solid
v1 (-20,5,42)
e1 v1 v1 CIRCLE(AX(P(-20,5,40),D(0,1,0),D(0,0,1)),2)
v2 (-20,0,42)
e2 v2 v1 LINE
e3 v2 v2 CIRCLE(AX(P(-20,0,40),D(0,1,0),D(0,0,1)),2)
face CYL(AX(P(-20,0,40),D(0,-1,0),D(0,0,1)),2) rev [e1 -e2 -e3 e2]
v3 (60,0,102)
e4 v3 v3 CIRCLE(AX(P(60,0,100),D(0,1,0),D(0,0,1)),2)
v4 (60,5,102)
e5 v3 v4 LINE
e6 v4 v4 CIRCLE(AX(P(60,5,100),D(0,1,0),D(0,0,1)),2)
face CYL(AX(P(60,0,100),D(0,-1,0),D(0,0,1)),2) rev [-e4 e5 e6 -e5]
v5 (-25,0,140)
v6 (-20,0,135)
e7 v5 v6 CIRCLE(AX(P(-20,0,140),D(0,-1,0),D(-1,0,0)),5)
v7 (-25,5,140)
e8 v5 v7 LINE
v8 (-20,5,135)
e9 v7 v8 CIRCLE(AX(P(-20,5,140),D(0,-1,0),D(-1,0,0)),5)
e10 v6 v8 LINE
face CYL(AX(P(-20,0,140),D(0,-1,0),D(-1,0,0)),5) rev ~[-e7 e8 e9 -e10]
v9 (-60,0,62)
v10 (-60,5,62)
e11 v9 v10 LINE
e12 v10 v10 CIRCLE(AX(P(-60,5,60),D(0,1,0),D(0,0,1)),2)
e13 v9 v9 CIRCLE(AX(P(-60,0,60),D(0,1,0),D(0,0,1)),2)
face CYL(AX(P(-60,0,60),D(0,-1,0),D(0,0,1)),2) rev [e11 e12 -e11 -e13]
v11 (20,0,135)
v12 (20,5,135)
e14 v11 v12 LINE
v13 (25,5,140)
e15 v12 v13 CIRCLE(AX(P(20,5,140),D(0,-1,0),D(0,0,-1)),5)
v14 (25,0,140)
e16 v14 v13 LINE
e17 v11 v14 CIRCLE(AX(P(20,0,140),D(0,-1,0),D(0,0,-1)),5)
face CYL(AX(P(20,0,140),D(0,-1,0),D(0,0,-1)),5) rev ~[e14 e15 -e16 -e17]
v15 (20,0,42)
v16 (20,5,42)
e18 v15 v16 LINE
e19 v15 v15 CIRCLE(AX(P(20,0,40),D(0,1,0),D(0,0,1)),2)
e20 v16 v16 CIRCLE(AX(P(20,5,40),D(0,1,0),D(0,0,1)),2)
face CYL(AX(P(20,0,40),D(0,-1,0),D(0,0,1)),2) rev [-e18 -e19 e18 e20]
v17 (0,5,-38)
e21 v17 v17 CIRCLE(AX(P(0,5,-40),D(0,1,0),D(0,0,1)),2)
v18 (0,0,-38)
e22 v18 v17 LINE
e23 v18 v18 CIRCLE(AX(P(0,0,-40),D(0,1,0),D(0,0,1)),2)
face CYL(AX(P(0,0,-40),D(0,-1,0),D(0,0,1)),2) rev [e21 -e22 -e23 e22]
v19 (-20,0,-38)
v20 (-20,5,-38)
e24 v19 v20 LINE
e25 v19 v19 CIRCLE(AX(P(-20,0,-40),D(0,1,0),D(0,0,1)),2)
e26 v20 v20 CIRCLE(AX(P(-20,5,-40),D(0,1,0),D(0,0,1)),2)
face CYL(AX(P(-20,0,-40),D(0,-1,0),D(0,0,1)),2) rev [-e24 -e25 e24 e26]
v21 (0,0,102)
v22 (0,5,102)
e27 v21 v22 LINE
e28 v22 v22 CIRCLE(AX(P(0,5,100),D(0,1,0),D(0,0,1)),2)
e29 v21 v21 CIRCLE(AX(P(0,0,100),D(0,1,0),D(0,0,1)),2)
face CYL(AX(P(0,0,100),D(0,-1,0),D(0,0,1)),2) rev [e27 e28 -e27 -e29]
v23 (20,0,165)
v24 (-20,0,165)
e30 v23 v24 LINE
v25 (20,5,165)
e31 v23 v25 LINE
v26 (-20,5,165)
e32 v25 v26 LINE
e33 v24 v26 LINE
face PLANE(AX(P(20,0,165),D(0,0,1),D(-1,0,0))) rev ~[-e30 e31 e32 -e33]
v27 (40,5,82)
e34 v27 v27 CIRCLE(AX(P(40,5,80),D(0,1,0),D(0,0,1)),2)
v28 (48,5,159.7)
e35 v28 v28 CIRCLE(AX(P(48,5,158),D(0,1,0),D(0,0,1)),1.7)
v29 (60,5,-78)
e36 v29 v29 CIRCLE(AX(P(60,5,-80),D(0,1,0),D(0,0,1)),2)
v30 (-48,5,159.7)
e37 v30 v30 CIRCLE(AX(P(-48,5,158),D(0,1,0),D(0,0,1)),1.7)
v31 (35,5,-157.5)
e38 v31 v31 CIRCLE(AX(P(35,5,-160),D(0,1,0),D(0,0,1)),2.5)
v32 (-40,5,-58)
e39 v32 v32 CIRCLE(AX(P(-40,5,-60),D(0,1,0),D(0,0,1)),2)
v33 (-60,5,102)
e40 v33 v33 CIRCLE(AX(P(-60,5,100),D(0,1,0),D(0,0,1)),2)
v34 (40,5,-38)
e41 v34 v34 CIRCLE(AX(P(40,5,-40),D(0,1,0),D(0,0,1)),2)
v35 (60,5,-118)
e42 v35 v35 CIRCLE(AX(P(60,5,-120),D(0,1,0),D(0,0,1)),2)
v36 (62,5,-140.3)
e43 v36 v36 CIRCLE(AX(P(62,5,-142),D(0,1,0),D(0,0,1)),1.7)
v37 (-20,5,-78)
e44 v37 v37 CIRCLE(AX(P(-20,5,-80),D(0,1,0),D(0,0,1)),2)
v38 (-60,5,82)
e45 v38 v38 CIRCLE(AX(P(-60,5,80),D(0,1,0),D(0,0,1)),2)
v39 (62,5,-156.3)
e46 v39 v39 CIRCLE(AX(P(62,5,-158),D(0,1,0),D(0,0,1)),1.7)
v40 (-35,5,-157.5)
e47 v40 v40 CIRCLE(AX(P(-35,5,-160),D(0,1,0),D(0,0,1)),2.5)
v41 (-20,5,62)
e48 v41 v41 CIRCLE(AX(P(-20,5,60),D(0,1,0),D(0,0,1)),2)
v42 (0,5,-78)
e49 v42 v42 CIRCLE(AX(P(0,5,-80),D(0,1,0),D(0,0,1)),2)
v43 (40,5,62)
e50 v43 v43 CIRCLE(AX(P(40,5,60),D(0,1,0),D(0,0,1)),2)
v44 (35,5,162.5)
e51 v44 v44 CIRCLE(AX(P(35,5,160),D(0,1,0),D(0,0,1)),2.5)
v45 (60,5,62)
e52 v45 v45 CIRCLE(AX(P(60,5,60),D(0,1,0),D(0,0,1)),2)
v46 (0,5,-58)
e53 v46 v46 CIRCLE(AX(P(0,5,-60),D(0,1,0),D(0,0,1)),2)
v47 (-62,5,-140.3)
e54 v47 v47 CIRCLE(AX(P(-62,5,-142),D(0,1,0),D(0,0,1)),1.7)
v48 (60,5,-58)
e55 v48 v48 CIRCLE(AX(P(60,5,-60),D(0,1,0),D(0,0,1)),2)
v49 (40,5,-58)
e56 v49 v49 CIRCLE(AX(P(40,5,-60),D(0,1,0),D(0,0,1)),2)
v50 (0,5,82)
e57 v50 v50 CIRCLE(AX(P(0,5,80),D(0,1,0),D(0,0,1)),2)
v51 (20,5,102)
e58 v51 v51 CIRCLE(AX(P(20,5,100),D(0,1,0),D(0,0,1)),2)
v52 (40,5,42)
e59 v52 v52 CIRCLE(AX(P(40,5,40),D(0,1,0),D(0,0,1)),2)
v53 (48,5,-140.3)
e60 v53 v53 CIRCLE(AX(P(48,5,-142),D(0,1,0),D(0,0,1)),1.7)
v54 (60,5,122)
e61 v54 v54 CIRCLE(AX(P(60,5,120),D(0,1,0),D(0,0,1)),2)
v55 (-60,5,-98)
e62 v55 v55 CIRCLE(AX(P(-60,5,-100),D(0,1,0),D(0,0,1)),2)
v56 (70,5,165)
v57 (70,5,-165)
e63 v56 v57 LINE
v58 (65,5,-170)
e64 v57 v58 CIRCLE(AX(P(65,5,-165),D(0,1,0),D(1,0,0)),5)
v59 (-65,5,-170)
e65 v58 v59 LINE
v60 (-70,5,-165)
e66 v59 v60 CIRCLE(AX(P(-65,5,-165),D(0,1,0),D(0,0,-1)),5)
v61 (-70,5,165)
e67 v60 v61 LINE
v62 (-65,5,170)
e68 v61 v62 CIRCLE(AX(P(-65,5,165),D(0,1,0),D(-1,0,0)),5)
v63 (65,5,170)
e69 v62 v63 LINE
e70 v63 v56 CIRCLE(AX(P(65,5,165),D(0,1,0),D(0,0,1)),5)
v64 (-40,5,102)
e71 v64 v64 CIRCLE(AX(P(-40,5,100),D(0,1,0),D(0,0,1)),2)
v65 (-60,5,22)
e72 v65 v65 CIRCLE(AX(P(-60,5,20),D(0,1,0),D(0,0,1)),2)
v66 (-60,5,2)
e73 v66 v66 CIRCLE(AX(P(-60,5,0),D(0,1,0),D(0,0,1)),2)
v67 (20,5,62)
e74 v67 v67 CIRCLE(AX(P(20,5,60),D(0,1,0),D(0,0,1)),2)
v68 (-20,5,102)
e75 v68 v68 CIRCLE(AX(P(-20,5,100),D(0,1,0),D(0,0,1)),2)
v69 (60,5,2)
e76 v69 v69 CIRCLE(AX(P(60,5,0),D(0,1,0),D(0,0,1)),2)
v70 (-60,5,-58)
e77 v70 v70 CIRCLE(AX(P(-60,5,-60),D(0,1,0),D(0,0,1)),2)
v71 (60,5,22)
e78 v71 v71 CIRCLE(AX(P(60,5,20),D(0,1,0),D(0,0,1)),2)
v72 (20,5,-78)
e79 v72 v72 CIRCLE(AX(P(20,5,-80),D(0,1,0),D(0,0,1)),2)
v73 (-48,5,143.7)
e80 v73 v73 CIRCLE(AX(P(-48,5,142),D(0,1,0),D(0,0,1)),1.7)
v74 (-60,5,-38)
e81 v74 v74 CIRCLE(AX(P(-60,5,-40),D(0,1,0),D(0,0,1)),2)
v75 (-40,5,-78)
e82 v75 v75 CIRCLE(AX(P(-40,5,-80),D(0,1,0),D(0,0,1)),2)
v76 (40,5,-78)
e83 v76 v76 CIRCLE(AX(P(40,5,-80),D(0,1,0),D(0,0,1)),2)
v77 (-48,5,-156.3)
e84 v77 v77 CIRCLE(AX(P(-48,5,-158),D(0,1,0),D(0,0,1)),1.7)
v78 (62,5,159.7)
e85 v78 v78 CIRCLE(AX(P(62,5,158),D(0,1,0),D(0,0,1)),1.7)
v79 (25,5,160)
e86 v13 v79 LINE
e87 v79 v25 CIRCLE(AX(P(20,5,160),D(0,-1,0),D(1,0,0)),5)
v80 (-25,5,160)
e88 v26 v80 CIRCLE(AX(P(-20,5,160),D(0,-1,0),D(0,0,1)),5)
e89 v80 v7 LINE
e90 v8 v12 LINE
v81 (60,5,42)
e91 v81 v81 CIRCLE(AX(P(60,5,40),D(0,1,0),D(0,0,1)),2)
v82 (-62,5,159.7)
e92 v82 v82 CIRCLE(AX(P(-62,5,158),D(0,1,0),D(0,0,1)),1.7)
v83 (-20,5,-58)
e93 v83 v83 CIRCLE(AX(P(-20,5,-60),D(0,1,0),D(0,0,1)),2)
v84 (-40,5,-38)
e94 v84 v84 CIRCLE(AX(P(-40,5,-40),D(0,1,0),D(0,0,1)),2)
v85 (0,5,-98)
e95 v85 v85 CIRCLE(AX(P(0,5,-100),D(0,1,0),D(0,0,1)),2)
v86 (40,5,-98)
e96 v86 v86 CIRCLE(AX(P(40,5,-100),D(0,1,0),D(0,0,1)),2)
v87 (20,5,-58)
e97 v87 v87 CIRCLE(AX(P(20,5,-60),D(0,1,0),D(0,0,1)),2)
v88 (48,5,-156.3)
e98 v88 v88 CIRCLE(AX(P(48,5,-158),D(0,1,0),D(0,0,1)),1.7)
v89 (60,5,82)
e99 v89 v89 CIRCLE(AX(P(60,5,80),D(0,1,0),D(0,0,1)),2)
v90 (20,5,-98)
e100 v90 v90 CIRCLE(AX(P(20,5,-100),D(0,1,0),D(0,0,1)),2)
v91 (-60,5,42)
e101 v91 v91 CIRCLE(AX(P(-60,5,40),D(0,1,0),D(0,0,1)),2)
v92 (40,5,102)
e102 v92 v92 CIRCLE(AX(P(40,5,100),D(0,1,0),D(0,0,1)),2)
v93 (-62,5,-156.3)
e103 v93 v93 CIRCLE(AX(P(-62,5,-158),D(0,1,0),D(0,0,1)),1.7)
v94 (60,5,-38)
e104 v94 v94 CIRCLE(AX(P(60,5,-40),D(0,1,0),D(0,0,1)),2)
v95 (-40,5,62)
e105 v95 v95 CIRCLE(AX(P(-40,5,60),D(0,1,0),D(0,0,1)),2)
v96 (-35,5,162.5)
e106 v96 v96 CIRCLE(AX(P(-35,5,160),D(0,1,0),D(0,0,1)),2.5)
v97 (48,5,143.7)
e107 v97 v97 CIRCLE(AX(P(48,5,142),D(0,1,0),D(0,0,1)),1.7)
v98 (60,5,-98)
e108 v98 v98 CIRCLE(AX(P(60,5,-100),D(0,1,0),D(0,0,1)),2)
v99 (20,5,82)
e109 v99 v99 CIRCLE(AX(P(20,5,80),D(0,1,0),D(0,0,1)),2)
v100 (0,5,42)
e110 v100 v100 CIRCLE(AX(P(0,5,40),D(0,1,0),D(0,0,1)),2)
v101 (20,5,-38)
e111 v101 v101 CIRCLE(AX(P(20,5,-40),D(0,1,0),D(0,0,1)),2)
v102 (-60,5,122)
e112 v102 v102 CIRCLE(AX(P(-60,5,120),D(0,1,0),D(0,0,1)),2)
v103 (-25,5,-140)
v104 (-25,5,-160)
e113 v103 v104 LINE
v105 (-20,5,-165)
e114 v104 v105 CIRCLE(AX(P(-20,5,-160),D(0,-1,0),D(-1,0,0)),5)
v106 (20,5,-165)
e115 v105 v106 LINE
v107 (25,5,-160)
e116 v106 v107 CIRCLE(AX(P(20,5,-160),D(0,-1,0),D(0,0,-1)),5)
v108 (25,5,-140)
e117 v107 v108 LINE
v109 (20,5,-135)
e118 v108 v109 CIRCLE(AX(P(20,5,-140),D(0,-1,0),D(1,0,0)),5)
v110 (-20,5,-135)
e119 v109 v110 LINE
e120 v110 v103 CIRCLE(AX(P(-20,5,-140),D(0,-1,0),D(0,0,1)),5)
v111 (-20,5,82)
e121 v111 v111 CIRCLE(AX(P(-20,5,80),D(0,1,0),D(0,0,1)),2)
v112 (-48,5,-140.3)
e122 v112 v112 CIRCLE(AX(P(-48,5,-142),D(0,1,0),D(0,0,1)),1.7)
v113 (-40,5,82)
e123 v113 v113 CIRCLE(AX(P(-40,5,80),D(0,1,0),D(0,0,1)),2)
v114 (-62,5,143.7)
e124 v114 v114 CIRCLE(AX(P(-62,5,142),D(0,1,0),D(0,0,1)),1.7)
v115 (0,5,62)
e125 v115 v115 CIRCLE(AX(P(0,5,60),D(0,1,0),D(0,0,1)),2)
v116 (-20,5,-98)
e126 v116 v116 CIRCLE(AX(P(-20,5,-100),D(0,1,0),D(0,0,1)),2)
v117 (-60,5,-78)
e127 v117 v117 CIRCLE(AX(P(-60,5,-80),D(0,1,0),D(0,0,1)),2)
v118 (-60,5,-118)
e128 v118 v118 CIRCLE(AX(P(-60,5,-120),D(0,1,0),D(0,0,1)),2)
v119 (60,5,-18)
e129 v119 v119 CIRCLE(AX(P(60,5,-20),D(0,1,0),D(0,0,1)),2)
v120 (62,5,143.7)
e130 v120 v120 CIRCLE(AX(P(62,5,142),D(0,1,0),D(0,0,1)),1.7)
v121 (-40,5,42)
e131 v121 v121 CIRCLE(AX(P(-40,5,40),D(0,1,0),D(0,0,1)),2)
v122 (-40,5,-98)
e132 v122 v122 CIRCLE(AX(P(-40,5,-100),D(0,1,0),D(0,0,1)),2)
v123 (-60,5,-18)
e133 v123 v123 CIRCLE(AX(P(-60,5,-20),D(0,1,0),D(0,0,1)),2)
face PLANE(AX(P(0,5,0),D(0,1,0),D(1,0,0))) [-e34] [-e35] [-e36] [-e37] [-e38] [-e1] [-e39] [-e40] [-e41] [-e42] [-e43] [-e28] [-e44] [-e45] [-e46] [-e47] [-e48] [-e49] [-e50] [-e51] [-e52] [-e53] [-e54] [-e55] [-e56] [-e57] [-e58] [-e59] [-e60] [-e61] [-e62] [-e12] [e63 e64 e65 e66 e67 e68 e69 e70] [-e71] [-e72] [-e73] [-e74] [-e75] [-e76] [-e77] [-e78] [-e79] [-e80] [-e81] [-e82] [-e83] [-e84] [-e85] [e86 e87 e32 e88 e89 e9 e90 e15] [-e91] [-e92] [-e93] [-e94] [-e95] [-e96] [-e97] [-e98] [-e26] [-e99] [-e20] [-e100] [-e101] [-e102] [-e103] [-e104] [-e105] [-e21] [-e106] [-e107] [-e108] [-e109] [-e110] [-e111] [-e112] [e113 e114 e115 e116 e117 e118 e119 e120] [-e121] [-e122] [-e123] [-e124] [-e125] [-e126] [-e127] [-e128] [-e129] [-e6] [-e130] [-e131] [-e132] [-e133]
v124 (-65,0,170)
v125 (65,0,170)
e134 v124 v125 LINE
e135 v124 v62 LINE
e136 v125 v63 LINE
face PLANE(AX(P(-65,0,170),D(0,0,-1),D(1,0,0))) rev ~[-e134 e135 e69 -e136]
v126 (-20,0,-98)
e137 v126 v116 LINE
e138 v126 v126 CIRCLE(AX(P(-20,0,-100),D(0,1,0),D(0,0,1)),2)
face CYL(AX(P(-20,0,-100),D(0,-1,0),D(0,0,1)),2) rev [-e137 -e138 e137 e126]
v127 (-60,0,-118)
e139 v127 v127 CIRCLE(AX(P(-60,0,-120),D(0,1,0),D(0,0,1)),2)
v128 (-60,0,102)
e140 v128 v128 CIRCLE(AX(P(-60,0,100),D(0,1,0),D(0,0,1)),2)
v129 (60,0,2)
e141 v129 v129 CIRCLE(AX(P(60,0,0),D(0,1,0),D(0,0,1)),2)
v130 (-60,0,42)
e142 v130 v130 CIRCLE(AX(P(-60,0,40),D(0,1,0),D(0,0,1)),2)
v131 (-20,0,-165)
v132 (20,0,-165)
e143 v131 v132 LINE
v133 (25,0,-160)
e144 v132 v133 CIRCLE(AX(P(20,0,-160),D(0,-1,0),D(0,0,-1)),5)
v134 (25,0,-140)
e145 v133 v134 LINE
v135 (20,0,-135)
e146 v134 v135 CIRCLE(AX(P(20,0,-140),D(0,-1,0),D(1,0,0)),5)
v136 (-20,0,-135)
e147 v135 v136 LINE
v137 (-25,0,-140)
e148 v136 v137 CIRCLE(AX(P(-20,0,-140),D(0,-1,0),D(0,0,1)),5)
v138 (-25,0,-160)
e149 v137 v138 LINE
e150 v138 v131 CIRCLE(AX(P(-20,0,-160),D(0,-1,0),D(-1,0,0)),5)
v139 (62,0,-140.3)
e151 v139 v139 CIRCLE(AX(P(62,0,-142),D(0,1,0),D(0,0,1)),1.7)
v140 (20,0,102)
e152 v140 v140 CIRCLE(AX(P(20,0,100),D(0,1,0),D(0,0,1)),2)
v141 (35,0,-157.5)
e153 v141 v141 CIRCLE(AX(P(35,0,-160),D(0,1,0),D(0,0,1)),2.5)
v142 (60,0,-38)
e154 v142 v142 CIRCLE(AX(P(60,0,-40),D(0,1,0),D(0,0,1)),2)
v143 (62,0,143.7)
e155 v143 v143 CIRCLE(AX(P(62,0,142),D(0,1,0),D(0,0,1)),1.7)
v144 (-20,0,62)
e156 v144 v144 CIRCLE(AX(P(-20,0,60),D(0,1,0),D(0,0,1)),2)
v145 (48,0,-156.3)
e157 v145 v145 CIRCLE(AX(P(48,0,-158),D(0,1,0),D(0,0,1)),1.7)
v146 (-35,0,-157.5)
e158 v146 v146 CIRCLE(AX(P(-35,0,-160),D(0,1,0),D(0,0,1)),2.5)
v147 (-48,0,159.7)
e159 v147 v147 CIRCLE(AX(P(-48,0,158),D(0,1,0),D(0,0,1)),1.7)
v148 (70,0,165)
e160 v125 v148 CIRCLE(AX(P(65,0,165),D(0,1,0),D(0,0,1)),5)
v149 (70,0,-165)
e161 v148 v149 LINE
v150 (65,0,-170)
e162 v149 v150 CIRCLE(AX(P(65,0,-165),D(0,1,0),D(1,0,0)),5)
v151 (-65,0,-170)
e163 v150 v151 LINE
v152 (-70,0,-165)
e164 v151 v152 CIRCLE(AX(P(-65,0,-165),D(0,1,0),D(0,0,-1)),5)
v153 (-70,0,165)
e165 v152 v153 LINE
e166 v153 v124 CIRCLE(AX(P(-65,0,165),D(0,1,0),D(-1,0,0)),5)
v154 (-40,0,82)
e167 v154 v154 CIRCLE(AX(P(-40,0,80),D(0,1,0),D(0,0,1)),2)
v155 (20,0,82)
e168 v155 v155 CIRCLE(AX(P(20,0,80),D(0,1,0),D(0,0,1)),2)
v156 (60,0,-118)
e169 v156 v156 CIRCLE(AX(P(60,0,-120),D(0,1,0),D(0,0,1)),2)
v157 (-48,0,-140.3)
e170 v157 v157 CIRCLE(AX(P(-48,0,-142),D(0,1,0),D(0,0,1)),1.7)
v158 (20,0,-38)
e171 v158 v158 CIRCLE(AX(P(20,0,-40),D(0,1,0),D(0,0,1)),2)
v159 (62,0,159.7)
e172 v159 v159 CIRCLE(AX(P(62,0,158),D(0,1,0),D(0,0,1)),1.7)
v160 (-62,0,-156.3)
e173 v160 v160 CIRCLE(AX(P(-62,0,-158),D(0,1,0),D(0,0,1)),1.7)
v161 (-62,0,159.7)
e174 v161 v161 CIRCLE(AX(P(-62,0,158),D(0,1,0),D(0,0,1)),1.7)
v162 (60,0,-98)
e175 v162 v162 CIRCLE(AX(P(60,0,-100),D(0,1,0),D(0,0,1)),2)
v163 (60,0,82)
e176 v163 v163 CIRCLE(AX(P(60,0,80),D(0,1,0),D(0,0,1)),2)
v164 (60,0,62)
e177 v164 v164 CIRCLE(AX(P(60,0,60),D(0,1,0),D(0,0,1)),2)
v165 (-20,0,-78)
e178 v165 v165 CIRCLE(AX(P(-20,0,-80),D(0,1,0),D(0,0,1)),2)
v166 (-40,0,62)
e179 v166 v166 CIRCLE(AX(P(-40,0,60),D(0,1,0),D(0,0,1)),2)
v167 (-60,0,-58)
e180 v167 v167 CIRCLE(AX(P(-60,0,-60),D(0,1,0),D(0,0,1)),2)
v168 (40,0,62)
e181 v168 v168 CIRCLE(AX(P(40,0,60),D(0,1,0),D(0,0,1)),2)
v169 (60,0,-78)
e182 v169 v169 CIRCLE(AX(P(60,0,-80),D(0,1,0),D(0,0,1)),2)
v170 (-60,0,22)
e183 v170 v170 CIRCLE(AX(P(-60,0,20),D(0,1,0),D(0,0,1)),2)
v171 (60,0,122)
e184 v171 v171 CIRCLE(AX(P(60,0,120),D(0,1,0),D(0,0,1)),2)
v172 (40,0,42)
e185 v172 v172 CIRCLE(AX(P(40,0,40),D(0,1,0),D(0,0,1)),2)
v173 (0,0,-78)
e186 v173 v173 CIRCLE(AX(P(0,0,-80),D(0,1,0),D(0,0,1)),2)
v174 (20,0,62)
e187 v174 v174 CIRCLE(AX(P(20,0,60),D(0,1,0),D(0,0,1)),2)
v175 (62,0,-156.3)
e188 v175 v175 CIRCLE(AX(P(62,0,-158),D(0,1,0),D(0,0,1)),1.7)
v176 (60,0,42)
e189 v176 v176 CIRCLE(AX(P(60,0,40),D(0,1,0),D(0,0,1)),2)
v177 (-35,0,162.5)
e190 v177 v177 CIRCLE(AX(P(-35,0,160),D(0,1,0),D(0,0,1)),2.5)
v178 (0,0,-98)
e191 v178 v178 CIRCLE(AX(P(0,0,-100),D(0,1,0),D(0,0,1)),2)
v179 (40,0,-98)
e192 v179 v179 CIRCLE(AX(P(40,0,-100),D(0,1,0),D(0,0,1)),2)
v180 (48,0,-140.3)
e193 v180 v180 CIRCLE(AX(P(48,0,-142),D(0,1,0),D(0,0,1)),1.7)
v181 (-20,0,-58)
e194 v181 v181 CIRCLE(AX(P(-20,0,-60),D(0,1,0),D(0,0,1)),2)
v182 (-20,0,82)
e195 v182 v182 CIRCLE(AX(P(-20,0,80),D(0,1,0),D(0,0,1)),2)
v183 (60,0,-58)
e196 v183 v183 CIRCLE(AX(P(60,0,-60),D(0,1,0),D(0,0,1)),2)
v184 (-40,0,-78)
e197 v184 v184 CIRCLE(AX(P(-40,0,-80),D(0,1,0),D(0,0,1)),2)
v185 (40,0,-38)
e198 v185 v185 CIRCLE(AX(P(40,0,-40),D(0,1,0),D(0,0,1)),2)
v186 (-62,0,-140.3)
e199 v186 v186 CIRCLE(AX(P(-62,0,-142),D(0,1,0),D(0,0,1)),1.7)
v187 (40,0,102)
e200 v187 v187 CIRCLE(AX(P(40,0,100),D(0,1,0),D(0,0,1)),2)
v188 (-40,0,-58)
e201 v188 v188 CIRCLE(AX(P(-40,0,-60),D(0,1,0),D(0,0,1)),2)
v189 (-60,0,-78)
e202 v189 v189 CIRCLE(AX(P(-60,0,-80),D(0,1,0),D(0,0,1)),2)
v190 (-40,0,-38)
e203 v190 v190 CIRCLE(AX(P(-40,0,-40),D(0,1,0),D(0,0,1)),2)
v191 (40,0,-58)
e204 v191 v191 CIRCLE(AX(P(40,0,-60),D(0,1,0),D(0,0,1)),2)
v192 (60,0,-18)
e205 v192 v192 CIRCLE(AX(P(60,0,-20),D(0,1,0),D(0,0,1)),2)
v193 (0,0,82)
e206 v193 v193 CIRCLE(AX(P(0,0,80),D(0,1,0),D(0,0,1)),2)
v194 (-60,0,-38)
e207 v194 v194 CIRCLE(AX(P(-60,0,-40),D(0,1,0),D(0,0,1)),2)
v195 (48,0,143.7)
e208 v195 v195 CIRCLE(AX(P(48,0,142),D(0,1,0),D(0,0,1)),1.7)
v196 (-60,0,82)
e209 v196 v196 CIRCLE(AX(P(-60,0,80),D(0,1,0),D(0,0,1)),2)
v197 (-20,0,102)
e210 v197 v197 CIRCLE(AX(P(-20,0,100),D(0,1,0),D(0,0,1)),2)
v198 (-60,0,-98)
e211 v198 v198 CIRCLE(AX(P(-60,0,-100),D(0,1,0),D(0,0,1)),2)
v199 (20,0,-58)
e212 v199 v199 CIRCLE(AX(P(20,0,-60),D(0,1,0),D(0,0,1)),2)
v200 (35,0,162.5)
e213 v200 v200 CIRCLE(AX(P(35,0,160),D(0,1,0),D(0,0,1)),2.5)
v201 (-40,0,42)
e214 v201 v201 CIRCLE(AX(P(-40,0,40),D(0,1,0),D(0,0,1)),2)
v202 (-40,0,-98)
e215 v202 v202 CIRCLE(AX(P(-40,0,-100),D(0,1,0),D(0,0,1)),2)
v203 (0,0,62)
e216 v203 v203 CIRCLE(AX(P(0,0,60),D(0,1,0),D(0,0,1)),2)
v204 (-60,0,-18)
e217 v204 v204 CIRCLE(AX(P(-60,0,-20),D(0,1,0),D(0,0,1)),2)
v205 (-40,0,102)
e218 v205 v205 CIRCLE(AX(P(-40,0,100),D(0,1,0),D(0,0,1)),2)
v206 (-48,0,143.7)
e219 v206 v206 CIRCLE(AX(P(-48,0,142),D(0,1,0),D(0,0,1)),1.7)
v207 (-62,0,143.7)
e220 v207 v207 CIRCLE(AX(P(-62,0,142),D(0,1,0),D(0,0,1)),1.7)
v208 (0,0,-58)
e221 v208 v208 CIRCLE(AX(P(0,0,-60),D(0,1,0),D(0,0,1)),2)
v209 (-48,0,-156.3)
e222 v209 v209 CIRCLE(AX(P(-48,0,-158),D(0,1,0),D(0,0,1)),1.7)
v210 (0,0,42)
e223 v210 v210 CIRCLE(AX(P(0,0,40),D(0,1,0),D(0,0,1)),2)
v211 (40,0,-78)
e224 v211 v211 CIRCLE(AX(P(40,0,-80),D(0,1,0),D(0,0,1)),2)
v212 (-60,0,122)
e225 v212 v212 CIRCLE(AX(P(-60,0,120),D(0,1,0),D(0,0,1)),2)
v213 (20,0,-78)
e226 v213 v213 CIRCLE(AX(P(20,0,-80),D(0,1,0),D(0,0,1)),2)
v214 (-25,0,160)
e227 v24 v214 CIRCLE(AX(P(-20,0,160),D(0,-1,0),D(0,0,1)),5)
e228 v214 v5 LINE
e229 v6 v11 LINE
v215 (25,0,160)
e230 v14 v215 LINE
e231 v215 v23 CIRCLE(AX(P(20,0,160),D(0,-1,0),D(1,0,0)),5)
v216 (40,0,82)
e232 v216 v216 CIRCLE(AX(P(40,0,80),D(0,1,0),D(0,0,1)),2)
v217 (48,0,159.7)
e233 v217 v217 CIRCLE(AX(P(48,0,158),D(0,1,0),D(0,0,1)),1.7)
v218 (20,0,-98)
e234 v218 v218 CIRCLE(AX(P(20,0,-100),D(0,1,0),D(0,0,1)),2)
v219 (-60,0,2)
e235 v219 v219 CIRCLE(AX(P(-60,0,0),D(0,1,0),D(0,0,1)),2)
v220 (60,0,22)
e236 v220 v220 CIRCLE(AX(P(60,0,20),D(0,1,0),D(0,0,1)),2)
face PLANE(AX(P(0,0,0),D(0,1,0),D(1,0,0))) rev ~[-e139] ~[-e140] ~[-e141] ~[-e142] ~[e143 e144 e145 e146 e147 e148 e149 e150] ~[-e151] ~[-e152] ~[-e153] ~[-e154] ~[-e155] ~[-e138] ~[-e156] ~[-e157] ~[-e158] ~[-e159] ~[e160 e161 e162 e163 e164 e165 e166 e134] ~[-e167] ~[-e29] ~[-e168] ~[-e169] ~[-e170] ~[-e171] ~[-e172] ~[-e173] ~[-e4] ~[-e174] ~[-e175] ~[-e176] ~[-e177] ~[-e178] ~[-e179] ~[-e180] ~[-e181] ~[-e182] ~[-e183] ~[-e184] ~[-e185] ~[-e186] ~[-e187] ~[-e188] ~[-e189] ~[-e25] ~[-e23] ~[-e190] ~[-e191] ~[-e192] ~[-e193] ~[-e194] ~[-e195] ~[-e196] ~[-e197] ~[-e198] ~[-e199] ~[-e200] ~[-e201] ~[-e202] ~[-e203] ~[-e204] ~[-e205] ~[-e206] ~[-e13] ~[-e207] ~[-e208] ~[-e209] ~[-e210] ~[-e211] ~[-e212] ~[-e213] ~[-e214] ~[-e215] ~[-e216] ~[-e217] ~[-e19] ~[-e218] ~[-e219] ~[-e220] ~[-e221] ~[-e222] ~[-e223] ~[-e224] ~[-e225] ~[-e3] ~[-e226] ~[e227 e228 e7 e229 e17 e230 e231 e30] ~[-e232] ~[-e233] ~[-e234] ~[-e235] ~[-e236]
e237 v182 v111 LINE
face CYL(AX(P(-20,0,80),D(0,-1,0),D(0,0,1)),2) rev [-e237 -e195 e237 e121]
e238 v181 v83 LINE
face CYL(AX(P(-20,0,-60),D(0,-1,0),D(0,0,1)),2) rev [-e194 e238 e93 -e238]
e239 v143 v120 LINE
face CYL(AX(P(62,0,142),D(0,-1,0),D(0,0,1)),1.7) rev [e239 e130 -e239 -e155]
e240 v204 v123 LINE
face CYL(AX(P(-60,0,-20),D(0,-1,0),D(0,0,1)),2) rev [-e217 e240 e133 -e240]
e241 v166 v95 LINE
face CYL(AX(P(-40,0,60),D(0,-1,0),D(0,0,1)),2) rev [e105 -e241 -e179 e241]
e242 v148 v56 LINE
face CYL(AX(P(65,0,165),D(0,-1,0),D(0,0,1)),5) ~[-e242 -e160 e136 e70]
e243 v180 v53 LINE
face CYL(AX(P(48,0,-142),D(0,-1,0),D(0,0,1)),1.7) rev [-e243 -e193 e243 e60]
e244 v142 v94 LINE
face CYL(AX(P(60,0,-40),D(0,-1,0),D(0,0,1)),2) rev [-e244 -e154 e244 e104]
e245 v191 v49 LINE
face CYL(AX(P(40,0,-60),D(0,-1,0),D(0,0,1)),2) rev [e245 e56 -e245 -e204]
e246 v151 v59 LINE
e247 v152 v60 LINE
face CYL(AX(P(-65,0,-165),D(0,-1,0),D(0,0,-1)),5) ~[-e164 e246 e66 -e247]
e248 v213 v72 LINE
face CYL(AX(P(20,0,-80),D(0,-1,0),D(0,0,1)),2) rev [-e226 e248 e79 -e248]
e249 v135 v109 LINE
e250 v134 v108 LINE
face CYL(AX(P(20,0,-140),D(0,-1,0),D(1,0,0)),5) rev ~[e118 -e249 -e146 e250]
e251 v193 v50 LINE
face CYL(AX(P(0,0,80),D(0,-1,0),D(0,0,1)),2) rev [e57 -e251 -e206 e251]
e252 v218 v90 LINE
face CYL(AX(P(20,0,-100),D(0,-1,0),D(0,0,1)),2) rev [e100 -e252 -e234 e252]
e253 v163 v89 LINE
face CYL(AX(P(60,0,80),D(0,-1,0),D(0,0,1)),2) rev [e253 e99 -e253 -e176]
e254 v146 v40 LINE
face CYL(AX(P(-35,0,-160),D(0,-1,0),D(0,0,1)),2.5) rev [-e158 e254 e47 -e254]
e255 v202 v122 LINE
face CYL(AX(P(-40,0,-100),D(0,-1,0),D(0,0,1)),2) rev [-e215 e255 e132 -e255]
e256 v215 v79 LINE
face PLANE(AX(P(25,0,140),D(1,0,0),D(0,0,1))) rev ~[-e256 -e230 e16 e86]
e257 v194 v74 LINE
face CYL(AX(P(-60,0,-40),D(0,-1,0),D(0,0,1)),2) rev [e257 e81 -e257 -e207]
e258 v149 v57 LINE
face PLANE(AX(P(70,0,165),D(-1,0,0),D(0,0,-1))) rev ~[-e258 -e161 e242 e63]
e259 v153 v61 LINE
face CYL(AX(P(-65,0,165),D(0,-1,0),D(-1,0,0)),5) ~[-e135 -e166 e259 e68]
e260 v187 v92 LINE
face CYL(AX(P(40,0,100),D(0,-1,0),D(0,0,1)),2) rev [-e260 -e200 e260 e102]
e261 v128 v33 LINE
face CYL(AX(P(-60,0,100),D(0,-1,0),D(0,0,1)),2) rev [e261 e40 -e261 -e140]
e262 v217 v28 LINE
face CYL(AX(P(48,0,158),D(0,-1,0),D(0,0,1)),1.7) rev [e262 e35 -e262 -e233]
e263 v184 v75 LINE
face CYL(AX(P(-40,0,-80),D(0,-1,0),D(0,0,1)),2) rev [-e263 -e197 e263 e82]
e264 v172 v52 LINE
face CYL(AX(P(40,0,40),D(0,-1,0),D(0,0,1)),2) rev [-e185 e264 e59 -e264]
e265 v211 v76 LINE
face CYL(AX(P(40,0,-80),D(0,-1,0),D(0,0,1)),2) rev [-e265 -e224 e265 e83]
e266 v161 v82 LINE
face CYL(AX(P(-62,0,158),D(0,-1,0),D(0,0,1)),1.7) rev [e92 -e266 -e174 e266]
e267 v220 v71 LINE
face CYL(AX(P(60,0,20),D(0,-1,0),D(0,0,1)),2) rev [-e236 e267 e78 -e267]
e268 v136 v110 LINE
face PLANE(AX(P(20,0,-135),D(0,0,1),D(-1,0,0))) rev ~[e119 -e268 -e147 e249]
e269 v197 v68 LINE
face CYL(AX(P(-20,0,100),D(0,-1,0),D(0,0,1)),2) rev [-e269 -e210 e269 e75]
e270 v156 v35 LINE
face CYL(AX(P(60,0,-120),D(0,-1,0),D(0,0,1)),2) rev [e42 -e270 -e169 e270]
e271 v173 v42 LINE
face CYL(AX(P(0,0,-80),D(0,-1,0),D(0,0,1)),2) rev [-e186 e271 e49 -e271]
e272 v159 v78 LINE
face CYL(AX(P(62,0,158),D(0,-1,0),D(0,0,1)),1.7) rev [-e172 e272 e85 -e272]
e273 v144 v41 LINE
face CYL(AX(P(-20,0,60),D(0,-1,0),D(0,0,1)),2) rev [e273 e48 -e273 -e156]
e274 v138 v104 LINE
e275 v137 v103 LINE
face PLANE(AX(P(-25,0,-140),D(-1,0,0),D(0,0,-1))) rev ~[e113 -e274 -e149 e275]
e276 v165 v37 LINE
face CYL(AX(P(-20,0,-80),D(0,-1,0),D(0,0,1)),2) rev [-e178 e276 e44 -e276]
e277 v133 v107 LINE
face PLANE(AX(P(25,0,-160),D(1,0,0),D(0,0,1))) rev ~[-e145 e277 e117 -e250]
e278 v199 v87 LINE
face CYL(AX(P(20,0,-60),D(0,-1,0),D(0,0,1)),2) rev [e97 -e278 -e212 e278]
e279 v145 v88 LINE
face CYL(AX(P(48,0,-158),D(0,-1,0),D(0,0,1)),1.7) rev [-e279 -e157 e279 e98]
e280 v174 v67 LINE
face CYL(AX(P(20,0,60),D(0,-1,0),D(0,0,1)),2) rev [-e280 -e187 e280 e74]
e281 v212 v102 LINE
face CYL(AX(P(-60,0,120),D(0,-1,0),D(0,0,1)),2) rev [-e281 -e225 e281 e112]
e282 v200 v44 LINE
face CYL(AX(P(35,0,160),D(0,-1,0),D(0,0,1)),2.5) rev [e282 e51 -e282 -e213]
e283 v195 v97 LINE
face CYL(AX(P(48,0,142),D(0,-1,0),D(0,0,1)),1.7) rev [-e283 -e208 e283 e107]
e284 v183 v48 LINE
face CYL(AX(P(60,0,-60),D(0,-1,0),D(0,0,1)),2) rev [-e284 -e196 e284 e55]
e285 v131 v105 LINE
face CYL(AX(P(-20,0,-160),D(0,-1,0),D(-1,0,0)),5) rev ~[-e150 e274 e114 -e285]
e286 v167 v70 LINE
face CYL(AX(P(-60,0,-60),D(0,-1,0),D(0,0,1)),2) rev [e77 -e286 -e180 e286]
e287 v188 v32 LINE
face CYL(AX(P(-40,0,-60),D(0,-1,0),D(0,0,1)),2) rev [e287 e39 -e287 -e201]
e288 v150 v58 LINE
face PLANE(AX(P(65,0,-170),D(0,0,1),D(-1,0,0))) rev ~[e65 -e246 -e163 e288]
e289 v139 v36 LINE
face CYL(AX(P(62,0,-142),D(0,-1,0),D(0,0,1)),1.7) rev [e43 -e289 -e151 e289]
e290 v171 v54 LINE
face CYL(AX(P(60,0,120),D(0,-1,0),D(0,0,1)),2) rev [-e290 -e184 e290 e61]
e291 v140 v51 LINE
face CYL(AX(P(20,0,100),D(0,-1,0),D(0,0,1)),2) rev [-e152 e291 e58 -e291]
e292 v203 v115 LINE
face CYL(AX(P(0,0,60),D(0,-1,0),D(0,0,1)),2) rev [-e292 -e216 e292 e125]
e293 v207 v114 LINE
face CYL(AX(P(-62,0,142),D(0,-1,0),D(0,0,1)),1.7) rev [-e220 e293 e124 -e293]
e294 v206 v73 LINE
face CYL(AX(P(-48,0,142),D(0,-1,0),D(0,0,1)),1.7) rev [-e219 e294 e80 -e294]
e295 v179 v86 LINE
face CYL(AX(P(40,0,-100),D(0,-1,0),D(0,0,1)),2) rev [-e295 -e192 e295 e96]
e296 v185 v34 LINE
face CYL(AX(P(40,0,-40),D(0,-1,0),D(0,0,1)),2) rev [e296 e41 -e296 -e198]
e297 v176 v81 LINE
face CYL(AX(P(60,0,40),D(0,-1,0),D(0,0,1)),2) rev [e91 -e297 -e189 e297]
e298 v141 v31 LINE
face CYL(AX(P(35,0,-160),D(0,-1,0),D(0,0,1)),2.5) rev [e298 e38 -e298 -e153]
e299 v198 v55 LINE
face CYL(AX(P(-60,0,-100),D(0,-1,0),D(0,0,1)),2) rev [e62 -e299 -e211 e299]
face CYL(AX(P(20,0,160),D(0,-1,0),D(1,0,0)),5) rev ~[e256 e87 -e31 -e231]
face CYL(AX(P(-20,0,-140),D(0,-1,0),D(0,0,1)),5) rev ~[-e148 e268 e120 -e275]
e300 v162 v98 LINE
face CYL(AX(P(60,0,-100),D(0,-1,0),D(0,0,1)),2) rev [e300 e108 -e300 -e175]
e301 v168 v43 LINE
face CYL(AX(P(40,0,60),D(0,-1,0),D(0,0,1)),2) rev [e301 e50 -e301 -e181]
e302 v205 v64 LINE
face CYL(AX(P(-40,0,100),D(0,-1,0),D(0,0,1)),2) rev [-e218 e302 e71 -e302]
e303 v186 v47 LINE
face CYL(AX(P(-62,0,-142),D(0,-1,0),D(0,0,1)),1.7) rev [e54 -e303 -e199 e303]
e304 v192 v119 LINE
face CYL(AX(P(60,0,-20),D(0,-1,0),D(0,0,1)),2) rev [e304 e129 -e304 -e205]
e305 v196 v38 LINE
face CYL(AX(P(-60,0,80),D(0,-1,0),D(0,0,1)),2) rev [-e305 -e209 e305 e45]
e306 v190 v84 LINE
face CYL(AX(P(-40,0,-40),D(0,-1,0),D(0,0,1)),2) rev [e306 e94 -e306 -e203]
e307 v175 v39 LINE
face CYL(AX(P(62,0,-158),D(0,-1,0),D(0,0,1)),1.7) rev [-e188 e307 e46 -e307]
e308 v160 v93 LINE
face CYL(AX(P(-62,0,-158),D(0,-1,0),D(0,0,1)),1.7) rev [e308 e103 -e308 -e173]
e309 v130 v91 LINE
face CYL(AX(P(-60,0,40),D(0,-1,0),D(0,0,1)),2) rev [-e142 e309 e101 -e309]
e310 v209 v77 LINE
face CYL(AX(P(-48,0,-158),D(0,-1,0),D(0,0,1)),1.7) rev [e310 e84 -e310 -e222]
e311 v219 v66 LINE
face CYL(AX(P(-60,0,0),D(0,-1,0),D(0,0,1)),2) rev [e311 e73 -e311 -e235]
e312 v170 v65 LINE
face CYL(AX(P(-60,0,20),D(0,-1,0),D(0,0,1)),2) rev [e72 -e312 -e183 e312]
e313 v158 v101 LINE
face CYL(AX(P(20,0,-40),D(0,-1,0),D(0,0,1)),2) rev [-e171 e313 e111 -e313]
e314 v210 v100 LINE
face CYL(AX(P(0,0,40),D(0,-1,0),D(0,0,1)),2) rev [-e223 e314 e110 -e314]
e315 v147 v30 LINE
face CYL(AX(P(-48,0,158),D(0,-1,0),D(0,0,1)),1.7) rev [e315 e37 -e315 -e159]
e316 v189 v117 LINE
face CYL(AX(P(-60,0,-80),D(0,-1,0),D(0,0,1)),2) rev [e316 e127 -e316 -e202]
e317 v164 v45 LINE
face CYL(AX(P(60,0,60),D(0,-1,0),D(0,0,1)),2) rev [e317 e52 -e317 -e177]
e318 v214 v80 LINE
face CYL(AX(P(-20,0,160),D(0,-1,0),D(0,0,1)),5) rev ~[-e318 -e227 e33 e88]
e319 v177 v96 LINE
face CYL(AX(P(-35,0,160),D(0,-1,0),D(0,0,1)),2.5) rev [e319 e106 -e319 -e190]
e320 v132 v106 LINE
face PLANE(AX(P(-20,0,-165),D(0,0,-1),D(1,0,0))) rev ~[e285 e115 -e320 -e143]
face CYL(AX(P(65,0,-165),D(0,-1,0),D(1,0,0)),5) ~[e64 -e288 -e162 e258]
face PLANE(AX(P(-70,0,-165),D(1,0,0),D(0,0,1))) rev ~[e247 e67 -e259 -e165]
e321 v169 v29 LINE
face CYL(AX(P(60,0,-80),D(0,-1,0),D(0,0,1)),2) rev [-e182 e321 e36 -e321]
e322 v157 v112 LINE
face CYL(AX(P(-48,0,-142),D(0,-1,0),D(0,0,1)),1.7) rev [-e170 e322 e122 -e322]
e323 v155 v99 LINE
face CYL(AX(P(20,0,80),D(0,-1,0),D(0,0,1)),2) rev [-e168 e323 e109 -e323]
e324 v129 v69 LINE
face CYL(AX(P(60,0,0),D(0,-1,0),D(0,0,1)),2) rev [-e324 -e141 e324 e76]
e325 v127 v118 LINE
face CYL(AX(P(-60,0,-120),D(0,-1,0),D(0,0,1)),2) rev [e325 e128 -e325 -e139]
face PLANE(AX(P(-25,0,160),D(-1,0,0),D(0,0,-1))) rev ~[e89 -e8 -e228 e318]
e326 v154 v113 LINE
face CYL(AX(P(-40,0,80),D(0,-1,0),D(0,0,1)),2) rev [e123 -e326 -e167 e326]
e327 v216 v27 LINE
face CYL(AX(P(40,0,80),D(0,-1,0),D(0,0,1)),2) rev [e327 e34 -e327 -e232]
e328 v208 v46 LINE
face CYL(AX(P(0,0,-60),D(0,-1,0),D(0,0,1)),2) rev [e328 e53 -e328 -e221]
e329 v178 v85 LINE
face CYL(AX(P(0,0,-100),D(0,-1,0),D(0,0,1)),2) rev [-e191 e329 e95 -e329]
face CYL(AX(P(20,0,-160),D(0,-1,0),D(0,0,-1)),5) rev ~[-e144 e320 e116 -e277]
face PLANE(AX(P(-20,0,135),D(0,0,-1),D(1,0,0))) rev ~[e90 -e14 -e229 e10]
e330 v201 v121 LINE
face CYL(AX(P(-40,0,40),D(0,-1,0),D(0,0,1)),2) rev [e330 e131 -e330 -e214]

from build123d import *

# Parameters (mm, degrees)
SKETCH_1_R      = 1.7
SKETCH_1_R_2    = 2.5
SKETCH_1_R_3    = 2
EXTRUDE_2_DEPTH = 5


with BuildPart() as part:
    # 草图1 → 凸台-拉伸2 (new body)
    with BuildSketch(Plane(origin=(0, 0, 0), x_dir=(1, 0, 0), z_dir=(0, 1, 0))):
        with BuildLine():
            ThreePointArc((-65, 170), (-68.535533906, 168.535533906), (-70, 165))
            Line((-70, 165), (-70, 130))
            Line((-70, 130), (-70, -165))
            ThreePointArc((-70, -165), (-68.535533906, -168.535533906), (-65, -170))
            Line((-65, -170), (65, -170))
            ThreePointArc((65, -170), (68.535533906, -168.535533906), (70, -165))
            Line((70, -165), (70, 165))
            ThreePointArc((70, 165), (68.535533906, 168.535533906), (65, 170))
            Line((65, 170), (0, 170))
            Line((0, 170), (-65, 170))
        make_face()
        with Locations(Location((-62, -158, 0), (0, 0, 270))):
            Circle(SKETCH_1_R, mode=Mode.SUBTRACT)
        with Locations(Location((-48, -158, 0), (0, 0, 270))):
            Circle(SKETCH_1_R, mode=Mode.SUBTRACT)
        with Locations(Location((-62, -142, 0), (0, 0, 270))):
            Circle(SKETCH_1_R, mode=Mode.SUBTRACT)
        with Locations(Location((-48, -142, 0), (0, 0, 270))):
            Circle(SKETCH_1_R, mode=Mode.SUBTRACT)
        with Locations(Location((-35, -160, 0), (0, 0, 270))):
            Circle(SKETCH_1_R_2, mode=Mode.SUBTRACT)
        with Locations(Location((-60, -120, 0), (0, 0, 270))):
            Circle(SKETCH_1_R_3, mode=Mode.SUBTRACT)
        with Locations(Location((-60, -100, 0), (0, 0, 270))):
            Circle(SKETCH_1_R_3, mode=Mode.SUBTRACT)
        with Locations(Location((-40, -100, 0), (0, 0, 270))):
            Circle(SKETCH_1_R_3, mode=Mode.SUBTRACT)
        with Locations(Location((-20, -100, 0), (0, 0, 270))):
            Circle(SKETCH_1_R_3, mode=Mode.SUBTRACT)
        with Locations(Location((-60, -80, 0), (0, 0, 270))):
            Circle(SKETCH_1_R_3, mode=Mode.SUBTRACT)
        with Locations(Location((-60, -60, 0), (0, 0, 270))):
            Circle(SKETCH_1_R_3, mode=Mode.SUBTRACT)
        with Locations(Location((-40, -80, 0), (0, 0, 270))):
            Circle(SKETCH_1_R_3, mode=Mode.SUBTRACT)
        with Locations(Location((-40, -60, 0), (0, 0, 270))):
            Circle(SKETCH_1_R_3, mode=Mode.SUBTRACT)
        with Locations(Location((-60, -40, 0), (0, 0, 270))):
            Circle(SKETCH_1_R_3, mode=Mode.SUBTRACT)
        with Locations(Location((-60, -20, 0), (0, 0, 270))):
            Circle(SKETCH_1_R_3, mode=Mode.SUBTRACT)
        with Locations(Location((-60, 0, 0), (0, 0, 270))):
            Circle(SKETCH_1_R_3, mode=Mode.SUBTRACT)
        with Locations(Location((-40, -40, 0), (0, 0, 270))):
            Circle(SKETCH_1_R_3, mode=Mode.SUBTRACT)
        with Locations(Location((-20, -80, 0), (0, 0, 270))):
            Circle(SKETCH_1_R_3, mode=Mode.SUBTRACT)
        with Locations(Location((-20, -60, 0), (0, 0, 270))):
            Circle(SKETCH_1_R_3, mode=Mode.SUBTRACT)
        with Locations(Location((-20, -40, 0), (0, 0, 270))):
            Circle(SKETCH_1_R_3, mode=Mode.SUBTRACT)
        with BuildLine():
            Line((25, -140), (25, -160))
            ThreePointArc((25, -160), (23.535533906, -163.535533906), (20, -165))
            Line((20, -165), (-20, -165))
            ThreePointArc((-20, -165), (-23.535533906, -163.535533906), (-25, -160))
            Line((-25, -160), (-25, -140))
            ThreePointArc((-25, -140), (-23.535533906, -136.464466094), (-20, -135))
            Line((-20, -135), (20, -135))
            ThreePointArc((20, -135), (23.535533906, -136.464466094), (25, -140))
        make_face(mode=Mode.SUBTRACT)
        with Locations(Location((0, -100, 0), (0, 0, 270))):
            Circle(SKETCH_1_R_3, mode=Mode.SUBTRACT)
        with Locations(Location((20, -100, 0), (0, 0, 270))):
            Circle(SKETCH_1_R_3, mode=Mode.SUBTRACT)
        with Locations(Location((35, -160, 0), (0, 0, 270))):
            Circle(SKETCH_1_R_2, mode=Mode.SUBTRACT)
        with Locations(Location((48, -158, 0), (0, 0, 270))):
            Circle(SKETCH_1_R, mode=Mode.SUBTRACT)
        with Locations(Location((62, -158, 0), (0, 0, 270))):
            Circle(SKETCH_1_R, mode=Mode.SUBTRACT)
        with Locations(Location((48, -142, 0), (0, 0, 270))):
            Circle(SKETCH_1_R, mode=Mode.SUBTRACT)
        with Locations(Location((62, -142, 0), (0, 0, 270))):
            Circle(SKETCH_1_R, mode=Mode.SUBTRACT)
        with Locations(Location((40, -100, 0), (0, 0, 270))):
            Circle(SKETCH_1_R_3, mode=Mode.SUBTRACT)
        with Locations(Location((60, -120, 0), (0, 0, 270))):
            Circle(SKETCH_1_R_3, mode=Mode.SUBTRACT)
        with Locations(Location((60, -100, 0), (0, 0, 270))):
            Circle(SKETCH_1_R_3, mode=Mode.SUBTRACT)
        with Locations(Location((0, -80, 0), (0, 0, 270))):
            Circle(SKETCH_1_R_3, mode=Mode.SUBTRACT)
        with Locations(Location((0, -60, 0), (0, 0, 270))):
            Circle(SKETCH_1_R_3, mode=Mode.SUBTRACT)
        with Locations(Location((20, -80, 0), (0, 0, 270))):
            Circle(SKETCH_1_R_3, mode=Mode.SUBTRACT)
        with Locations(Location((20, -60, 0), (0, 0, 270))):
            Circle(SKETCH_1_R_3, mode=Mode.SUBTRACT)
        with Locations(Location((0, -40, 0), (0, 0, 270))):
            Circle(SKETCH_1_R_3, mode=Mode.SUBTRACT)
        with Locations(Location((20, -40, 0), (0, 0, 270))):
            Circle(SKETCH_1_R_3, mode=Mode.SUBTRACT)
        with Locations(Location((40, -80, 0), (0, 0, 270))):
            Circle(SKETCH_1_R_3, mode=Mode.SUBTRACT)
        with Locations(Location((40, -60, 0), (0, 0, 270))):
            Circle(SKETCH_1_R_3, mode=Mode.SUBTRACT)
        with Locations(Location((60, -80, 0), (0, 0, 270))):
            Circle(SKETCH_1_R_3, mode=Mode.SUBTRACT)
        with Locations(Location((60, -60, 0), (0, 0, 270))):
            Circle(SKETCH_1_R_3, mode=Mode.SUBTRACT)
        with Locations(Location((40, -40, 0), (0, 0, 270))):
            Circle(SKETCH_1_R_3, mode=Mode.SUBTRACT)
        with Locations(Location((60, -40, 0), (0, 0, 270))):
            Circle(SKETCH_1_R_3, mode=Mode.SUBTRACT)
        with Locations(Location((60, -20, 0), (0, 0, 270))):
            Circle(SKETCH_1_R_3, mode=Mode.SUBTRACT)
        with Locations(Location((-60, 20, 0), (0, 0, 270))):
            Circle(SKETCH_1_R_3, mode=Mode.SUBTRACT)
        with Locations(Location((-60, 40, 0), (0, 0, 270))):
            Circle(SKETCH_1_R_3, mode=Mode.SUBTRACT)
        with Locations(Location((-40, 40, 0), (0, 0, 270))):
            Circle(SKETCH_1_R_3, mode=Mode.SUBTRACT)
        with Locations(Location((-60, 60, 0), (0, 0, 270))):
            Circle(SKETCH_1_R_3, mode=Mode.SUBTRACT)
        with Locations(Location((-60, 80, 0), (0, 0, 270))):
            Circle(SKETCH_1_R_3, mode=Mode.SUBTRACT)
        with Locations(Location((-40, 60, 0), (0, 0, 270))):
            Circle(SKETCH_1_R_3, mode=Mode.SUBTRACT)
        with Locations(Location((-40, 80, 0), (0, 0, 270))):
            Circle(SKETCH_1_R_3, mode=Mode.SUBTRACT)
        with Locations(Location((-20, 40, 0), (0, 0, 270))):
            Circle(SKETCH_1_R_3, mode=Mode.SUBTRACT)
        with Locations(Location((-20, 60, 0), (0, 0, 270))):
            Circle(SKETCH_1_R_3, mode=Mode.SUBTRACT)
        with Locations(Location((-20, 80, 0), (0, 0, 270))):
            Circle(SKETCH_1_R_3, mode=Mode.SUBTRACT)
        with Locations(Location((-60, 100, 0), (0, 0, 270))):
            Circle(SKETCH_1_R_3, mode=Mode.SUBTRACT)
        with Locations(Location((-60, 120, 0), (0, 0, 270))):
            Circle(SKETCH_1_R_3, mode=Mode.SUBTRACT)
        with Locations(Location((-40, 100, 0), (0, 0, 270))):
            Circle(SKETCH_1_R_3, mode=Mode.SUBTRACT)
        with Locations(Location((-62, 142, 0), (0, 0, 270))):
            Circle(SKETCH_1_R, mode=Mode.SUBTRACT)
        with Locations(Location((-48, 142, 0), (0, 0, 270))):
            Circle(SKETCH_1_R, mode=Mode.SUBTRACT)
        with Locations(Location((-62, 158, 0), (0, 0, 270))):
            Circle(SKETCH_1_R, mode=Mode.SUBTRACT)
        with Locations(Location((-48, 158, 0), (0, 0, 270))):
            Circle(SKETCH_1_R, mode=Mode.SUBTRACT)
        with Locations(Location((-35, 160, 0), (0, 0, 270))):
            Circle(SKETCH_1_R_2, mode=Mode.SUBTRACT)
        with Locations(Location((-20, 100, 0), (0, 0, 270))):
            Circle(SKETCH_1_R_3, mode=Mode.SUBTRACT)
        with Locations(Location((0, 40, 0), (0, 0, 270))):
            Circle(SKETCH_1_R_3, mode=Mode.SUBTRACT)
        with Locations(Location((20, 40, 0), (0, 0, 270))):
            Circle(SKETCH_1_R_3, mode=Mode.SUBTRACT)
        with Locations(Location((0, 60, 0), (0, 0, 270))):
            Circle(SKETCH_1_R_3, mode=Mode.SUBTRACT)
        with Locations(Location((0, 80, 0), (0, 0, 270))):
            Circle(SKETCH_1_R_3, mode=Mode.SUBTRACT)
        with Locations(Location((20, 60, 0), (0, 0, 270))):
            Circle(SKETCH_1_R_3, mode=Mode.SUBTRACT)
        with Locations(Location((20, 80, 0), (0, 0, 270))):
            Circle(SKETCH_1_R_3, mode=Mode.SUBTRACT)
        with Locations(Location((40, 40, 0), (0, 0, 270))):
            Circle(SKETCH_1_R_3, mode=Mode.SUBTRACT)
        with Locations(Location((60, 0, 0), (0, 0, 270))):
            Circle(SKETCH_1_R_3, mode=Mode.SUBTRACT)
        with Locations(Location((60, 20, 0), (0, 0, 270))):
            Circle(SKETCH_1_R_3, mode=Mode.SUBTRACT)
        with Locations(Location((60, 40, 0), (0, 0, 270))):
            Circle(SKETCH_1_R_3, mode=Mode.SUBTRACT)
        with Locations(Location((40, 60, 0), (0, 0, 270))):
            Circle(SKETCH_1_R_3, mode=Mode.SUBTRACT)
        with Locations(Location((40, 80, 0), (0, 0, 270))):
            Circle(SKETCH_1_R_3, mode=Mode.SUBTRACT)
        with Locations(Location((60, 60, 0), (0, 0, 270))):
            Circle(SKETCH_1_R_3, mode=Mode.SUBTRACT)
        with Locations(Location((60, 80, 0), (0, 0, 270))):
            Circle(SKETCH_1_R_3, mode=Mode.SUBTRACT)
        with Locations(Location((0, 100, 0), (0, 0, 270))):
            Circle(SKETCH_1_R_3, mode=Mode.SUBTRACT)
        with Locations(Location((20, 100, 0), (0, 0, 270))):
            Circle(SKETCH_1_R_3, mode=Mode.SUBTRACT)
        with BuildLine():
            Line((-20, 165), (0, 165))
            Line((0, 165), (20, 165))
            ThreePointArc((20, 165), (23.535533906, 163.535533906), (25, 160))
            Line((25, 160), (25, 140))
            ThreePointArc((25, 140), (23.535533906, 136.464466094), (20, 135))
            Line((20, 135), (-20, 135))
            ThreePointArc((-20, 135), (-23.535533906, 136.464466094), (-25, 140))
            Line((-25, 140), (-25, 160))
            ThreePointArc((-25, 160), (-23.535533906, 163.535533906), (-20, 165))
        make_face(mode=Mode.SUBTRACT)
        with Locations(Location((40, 100, 0), (0, 0, 270))):
            Circle(SKETCH_1_R_3, mode=Mode.SUBTRACT)
        with Locations(Location((60, 100, 0), (0, 0, 270))):
            Circle(SKETCH_1_R_3, mode=Mode.SUBTRACT)
        with Locations(Location((60, 120, 0), (0, 0, 270))):
            Circle(SKETCH_1_R_3, mode=Mode.SUBTRACT)
        with Locations(Location((35, 160, 0), (0, 0, 270))):
            Circle(SKETCH_1_R_2, mode=Mode.SUBTRACT)
        with Locations(Location((48, 142, 0), (0, 0, 270))):
            Circle(SKETCH_1_R, mode=Mode.SUBTRACT)
        with Locations(Location((62, 142, 0), (0, 0, 270))):
            Circle(SKETCH_1_R, mode=Mode.SUBTRACT)
        with Locations(Location((48, 158, 0), (0, 0, 270))):
            Circle(SKETCH_1_R, mode=Mode.SUBTRACT)
        with Locations(Location((62, 158, 0), (0, 0, 270))):
            Circle(SKETCH_1_R, mode=Mode.SUBTRACT)
    extrude(amount=EXTRUDE_2_DEPTH)


solid = part.part
